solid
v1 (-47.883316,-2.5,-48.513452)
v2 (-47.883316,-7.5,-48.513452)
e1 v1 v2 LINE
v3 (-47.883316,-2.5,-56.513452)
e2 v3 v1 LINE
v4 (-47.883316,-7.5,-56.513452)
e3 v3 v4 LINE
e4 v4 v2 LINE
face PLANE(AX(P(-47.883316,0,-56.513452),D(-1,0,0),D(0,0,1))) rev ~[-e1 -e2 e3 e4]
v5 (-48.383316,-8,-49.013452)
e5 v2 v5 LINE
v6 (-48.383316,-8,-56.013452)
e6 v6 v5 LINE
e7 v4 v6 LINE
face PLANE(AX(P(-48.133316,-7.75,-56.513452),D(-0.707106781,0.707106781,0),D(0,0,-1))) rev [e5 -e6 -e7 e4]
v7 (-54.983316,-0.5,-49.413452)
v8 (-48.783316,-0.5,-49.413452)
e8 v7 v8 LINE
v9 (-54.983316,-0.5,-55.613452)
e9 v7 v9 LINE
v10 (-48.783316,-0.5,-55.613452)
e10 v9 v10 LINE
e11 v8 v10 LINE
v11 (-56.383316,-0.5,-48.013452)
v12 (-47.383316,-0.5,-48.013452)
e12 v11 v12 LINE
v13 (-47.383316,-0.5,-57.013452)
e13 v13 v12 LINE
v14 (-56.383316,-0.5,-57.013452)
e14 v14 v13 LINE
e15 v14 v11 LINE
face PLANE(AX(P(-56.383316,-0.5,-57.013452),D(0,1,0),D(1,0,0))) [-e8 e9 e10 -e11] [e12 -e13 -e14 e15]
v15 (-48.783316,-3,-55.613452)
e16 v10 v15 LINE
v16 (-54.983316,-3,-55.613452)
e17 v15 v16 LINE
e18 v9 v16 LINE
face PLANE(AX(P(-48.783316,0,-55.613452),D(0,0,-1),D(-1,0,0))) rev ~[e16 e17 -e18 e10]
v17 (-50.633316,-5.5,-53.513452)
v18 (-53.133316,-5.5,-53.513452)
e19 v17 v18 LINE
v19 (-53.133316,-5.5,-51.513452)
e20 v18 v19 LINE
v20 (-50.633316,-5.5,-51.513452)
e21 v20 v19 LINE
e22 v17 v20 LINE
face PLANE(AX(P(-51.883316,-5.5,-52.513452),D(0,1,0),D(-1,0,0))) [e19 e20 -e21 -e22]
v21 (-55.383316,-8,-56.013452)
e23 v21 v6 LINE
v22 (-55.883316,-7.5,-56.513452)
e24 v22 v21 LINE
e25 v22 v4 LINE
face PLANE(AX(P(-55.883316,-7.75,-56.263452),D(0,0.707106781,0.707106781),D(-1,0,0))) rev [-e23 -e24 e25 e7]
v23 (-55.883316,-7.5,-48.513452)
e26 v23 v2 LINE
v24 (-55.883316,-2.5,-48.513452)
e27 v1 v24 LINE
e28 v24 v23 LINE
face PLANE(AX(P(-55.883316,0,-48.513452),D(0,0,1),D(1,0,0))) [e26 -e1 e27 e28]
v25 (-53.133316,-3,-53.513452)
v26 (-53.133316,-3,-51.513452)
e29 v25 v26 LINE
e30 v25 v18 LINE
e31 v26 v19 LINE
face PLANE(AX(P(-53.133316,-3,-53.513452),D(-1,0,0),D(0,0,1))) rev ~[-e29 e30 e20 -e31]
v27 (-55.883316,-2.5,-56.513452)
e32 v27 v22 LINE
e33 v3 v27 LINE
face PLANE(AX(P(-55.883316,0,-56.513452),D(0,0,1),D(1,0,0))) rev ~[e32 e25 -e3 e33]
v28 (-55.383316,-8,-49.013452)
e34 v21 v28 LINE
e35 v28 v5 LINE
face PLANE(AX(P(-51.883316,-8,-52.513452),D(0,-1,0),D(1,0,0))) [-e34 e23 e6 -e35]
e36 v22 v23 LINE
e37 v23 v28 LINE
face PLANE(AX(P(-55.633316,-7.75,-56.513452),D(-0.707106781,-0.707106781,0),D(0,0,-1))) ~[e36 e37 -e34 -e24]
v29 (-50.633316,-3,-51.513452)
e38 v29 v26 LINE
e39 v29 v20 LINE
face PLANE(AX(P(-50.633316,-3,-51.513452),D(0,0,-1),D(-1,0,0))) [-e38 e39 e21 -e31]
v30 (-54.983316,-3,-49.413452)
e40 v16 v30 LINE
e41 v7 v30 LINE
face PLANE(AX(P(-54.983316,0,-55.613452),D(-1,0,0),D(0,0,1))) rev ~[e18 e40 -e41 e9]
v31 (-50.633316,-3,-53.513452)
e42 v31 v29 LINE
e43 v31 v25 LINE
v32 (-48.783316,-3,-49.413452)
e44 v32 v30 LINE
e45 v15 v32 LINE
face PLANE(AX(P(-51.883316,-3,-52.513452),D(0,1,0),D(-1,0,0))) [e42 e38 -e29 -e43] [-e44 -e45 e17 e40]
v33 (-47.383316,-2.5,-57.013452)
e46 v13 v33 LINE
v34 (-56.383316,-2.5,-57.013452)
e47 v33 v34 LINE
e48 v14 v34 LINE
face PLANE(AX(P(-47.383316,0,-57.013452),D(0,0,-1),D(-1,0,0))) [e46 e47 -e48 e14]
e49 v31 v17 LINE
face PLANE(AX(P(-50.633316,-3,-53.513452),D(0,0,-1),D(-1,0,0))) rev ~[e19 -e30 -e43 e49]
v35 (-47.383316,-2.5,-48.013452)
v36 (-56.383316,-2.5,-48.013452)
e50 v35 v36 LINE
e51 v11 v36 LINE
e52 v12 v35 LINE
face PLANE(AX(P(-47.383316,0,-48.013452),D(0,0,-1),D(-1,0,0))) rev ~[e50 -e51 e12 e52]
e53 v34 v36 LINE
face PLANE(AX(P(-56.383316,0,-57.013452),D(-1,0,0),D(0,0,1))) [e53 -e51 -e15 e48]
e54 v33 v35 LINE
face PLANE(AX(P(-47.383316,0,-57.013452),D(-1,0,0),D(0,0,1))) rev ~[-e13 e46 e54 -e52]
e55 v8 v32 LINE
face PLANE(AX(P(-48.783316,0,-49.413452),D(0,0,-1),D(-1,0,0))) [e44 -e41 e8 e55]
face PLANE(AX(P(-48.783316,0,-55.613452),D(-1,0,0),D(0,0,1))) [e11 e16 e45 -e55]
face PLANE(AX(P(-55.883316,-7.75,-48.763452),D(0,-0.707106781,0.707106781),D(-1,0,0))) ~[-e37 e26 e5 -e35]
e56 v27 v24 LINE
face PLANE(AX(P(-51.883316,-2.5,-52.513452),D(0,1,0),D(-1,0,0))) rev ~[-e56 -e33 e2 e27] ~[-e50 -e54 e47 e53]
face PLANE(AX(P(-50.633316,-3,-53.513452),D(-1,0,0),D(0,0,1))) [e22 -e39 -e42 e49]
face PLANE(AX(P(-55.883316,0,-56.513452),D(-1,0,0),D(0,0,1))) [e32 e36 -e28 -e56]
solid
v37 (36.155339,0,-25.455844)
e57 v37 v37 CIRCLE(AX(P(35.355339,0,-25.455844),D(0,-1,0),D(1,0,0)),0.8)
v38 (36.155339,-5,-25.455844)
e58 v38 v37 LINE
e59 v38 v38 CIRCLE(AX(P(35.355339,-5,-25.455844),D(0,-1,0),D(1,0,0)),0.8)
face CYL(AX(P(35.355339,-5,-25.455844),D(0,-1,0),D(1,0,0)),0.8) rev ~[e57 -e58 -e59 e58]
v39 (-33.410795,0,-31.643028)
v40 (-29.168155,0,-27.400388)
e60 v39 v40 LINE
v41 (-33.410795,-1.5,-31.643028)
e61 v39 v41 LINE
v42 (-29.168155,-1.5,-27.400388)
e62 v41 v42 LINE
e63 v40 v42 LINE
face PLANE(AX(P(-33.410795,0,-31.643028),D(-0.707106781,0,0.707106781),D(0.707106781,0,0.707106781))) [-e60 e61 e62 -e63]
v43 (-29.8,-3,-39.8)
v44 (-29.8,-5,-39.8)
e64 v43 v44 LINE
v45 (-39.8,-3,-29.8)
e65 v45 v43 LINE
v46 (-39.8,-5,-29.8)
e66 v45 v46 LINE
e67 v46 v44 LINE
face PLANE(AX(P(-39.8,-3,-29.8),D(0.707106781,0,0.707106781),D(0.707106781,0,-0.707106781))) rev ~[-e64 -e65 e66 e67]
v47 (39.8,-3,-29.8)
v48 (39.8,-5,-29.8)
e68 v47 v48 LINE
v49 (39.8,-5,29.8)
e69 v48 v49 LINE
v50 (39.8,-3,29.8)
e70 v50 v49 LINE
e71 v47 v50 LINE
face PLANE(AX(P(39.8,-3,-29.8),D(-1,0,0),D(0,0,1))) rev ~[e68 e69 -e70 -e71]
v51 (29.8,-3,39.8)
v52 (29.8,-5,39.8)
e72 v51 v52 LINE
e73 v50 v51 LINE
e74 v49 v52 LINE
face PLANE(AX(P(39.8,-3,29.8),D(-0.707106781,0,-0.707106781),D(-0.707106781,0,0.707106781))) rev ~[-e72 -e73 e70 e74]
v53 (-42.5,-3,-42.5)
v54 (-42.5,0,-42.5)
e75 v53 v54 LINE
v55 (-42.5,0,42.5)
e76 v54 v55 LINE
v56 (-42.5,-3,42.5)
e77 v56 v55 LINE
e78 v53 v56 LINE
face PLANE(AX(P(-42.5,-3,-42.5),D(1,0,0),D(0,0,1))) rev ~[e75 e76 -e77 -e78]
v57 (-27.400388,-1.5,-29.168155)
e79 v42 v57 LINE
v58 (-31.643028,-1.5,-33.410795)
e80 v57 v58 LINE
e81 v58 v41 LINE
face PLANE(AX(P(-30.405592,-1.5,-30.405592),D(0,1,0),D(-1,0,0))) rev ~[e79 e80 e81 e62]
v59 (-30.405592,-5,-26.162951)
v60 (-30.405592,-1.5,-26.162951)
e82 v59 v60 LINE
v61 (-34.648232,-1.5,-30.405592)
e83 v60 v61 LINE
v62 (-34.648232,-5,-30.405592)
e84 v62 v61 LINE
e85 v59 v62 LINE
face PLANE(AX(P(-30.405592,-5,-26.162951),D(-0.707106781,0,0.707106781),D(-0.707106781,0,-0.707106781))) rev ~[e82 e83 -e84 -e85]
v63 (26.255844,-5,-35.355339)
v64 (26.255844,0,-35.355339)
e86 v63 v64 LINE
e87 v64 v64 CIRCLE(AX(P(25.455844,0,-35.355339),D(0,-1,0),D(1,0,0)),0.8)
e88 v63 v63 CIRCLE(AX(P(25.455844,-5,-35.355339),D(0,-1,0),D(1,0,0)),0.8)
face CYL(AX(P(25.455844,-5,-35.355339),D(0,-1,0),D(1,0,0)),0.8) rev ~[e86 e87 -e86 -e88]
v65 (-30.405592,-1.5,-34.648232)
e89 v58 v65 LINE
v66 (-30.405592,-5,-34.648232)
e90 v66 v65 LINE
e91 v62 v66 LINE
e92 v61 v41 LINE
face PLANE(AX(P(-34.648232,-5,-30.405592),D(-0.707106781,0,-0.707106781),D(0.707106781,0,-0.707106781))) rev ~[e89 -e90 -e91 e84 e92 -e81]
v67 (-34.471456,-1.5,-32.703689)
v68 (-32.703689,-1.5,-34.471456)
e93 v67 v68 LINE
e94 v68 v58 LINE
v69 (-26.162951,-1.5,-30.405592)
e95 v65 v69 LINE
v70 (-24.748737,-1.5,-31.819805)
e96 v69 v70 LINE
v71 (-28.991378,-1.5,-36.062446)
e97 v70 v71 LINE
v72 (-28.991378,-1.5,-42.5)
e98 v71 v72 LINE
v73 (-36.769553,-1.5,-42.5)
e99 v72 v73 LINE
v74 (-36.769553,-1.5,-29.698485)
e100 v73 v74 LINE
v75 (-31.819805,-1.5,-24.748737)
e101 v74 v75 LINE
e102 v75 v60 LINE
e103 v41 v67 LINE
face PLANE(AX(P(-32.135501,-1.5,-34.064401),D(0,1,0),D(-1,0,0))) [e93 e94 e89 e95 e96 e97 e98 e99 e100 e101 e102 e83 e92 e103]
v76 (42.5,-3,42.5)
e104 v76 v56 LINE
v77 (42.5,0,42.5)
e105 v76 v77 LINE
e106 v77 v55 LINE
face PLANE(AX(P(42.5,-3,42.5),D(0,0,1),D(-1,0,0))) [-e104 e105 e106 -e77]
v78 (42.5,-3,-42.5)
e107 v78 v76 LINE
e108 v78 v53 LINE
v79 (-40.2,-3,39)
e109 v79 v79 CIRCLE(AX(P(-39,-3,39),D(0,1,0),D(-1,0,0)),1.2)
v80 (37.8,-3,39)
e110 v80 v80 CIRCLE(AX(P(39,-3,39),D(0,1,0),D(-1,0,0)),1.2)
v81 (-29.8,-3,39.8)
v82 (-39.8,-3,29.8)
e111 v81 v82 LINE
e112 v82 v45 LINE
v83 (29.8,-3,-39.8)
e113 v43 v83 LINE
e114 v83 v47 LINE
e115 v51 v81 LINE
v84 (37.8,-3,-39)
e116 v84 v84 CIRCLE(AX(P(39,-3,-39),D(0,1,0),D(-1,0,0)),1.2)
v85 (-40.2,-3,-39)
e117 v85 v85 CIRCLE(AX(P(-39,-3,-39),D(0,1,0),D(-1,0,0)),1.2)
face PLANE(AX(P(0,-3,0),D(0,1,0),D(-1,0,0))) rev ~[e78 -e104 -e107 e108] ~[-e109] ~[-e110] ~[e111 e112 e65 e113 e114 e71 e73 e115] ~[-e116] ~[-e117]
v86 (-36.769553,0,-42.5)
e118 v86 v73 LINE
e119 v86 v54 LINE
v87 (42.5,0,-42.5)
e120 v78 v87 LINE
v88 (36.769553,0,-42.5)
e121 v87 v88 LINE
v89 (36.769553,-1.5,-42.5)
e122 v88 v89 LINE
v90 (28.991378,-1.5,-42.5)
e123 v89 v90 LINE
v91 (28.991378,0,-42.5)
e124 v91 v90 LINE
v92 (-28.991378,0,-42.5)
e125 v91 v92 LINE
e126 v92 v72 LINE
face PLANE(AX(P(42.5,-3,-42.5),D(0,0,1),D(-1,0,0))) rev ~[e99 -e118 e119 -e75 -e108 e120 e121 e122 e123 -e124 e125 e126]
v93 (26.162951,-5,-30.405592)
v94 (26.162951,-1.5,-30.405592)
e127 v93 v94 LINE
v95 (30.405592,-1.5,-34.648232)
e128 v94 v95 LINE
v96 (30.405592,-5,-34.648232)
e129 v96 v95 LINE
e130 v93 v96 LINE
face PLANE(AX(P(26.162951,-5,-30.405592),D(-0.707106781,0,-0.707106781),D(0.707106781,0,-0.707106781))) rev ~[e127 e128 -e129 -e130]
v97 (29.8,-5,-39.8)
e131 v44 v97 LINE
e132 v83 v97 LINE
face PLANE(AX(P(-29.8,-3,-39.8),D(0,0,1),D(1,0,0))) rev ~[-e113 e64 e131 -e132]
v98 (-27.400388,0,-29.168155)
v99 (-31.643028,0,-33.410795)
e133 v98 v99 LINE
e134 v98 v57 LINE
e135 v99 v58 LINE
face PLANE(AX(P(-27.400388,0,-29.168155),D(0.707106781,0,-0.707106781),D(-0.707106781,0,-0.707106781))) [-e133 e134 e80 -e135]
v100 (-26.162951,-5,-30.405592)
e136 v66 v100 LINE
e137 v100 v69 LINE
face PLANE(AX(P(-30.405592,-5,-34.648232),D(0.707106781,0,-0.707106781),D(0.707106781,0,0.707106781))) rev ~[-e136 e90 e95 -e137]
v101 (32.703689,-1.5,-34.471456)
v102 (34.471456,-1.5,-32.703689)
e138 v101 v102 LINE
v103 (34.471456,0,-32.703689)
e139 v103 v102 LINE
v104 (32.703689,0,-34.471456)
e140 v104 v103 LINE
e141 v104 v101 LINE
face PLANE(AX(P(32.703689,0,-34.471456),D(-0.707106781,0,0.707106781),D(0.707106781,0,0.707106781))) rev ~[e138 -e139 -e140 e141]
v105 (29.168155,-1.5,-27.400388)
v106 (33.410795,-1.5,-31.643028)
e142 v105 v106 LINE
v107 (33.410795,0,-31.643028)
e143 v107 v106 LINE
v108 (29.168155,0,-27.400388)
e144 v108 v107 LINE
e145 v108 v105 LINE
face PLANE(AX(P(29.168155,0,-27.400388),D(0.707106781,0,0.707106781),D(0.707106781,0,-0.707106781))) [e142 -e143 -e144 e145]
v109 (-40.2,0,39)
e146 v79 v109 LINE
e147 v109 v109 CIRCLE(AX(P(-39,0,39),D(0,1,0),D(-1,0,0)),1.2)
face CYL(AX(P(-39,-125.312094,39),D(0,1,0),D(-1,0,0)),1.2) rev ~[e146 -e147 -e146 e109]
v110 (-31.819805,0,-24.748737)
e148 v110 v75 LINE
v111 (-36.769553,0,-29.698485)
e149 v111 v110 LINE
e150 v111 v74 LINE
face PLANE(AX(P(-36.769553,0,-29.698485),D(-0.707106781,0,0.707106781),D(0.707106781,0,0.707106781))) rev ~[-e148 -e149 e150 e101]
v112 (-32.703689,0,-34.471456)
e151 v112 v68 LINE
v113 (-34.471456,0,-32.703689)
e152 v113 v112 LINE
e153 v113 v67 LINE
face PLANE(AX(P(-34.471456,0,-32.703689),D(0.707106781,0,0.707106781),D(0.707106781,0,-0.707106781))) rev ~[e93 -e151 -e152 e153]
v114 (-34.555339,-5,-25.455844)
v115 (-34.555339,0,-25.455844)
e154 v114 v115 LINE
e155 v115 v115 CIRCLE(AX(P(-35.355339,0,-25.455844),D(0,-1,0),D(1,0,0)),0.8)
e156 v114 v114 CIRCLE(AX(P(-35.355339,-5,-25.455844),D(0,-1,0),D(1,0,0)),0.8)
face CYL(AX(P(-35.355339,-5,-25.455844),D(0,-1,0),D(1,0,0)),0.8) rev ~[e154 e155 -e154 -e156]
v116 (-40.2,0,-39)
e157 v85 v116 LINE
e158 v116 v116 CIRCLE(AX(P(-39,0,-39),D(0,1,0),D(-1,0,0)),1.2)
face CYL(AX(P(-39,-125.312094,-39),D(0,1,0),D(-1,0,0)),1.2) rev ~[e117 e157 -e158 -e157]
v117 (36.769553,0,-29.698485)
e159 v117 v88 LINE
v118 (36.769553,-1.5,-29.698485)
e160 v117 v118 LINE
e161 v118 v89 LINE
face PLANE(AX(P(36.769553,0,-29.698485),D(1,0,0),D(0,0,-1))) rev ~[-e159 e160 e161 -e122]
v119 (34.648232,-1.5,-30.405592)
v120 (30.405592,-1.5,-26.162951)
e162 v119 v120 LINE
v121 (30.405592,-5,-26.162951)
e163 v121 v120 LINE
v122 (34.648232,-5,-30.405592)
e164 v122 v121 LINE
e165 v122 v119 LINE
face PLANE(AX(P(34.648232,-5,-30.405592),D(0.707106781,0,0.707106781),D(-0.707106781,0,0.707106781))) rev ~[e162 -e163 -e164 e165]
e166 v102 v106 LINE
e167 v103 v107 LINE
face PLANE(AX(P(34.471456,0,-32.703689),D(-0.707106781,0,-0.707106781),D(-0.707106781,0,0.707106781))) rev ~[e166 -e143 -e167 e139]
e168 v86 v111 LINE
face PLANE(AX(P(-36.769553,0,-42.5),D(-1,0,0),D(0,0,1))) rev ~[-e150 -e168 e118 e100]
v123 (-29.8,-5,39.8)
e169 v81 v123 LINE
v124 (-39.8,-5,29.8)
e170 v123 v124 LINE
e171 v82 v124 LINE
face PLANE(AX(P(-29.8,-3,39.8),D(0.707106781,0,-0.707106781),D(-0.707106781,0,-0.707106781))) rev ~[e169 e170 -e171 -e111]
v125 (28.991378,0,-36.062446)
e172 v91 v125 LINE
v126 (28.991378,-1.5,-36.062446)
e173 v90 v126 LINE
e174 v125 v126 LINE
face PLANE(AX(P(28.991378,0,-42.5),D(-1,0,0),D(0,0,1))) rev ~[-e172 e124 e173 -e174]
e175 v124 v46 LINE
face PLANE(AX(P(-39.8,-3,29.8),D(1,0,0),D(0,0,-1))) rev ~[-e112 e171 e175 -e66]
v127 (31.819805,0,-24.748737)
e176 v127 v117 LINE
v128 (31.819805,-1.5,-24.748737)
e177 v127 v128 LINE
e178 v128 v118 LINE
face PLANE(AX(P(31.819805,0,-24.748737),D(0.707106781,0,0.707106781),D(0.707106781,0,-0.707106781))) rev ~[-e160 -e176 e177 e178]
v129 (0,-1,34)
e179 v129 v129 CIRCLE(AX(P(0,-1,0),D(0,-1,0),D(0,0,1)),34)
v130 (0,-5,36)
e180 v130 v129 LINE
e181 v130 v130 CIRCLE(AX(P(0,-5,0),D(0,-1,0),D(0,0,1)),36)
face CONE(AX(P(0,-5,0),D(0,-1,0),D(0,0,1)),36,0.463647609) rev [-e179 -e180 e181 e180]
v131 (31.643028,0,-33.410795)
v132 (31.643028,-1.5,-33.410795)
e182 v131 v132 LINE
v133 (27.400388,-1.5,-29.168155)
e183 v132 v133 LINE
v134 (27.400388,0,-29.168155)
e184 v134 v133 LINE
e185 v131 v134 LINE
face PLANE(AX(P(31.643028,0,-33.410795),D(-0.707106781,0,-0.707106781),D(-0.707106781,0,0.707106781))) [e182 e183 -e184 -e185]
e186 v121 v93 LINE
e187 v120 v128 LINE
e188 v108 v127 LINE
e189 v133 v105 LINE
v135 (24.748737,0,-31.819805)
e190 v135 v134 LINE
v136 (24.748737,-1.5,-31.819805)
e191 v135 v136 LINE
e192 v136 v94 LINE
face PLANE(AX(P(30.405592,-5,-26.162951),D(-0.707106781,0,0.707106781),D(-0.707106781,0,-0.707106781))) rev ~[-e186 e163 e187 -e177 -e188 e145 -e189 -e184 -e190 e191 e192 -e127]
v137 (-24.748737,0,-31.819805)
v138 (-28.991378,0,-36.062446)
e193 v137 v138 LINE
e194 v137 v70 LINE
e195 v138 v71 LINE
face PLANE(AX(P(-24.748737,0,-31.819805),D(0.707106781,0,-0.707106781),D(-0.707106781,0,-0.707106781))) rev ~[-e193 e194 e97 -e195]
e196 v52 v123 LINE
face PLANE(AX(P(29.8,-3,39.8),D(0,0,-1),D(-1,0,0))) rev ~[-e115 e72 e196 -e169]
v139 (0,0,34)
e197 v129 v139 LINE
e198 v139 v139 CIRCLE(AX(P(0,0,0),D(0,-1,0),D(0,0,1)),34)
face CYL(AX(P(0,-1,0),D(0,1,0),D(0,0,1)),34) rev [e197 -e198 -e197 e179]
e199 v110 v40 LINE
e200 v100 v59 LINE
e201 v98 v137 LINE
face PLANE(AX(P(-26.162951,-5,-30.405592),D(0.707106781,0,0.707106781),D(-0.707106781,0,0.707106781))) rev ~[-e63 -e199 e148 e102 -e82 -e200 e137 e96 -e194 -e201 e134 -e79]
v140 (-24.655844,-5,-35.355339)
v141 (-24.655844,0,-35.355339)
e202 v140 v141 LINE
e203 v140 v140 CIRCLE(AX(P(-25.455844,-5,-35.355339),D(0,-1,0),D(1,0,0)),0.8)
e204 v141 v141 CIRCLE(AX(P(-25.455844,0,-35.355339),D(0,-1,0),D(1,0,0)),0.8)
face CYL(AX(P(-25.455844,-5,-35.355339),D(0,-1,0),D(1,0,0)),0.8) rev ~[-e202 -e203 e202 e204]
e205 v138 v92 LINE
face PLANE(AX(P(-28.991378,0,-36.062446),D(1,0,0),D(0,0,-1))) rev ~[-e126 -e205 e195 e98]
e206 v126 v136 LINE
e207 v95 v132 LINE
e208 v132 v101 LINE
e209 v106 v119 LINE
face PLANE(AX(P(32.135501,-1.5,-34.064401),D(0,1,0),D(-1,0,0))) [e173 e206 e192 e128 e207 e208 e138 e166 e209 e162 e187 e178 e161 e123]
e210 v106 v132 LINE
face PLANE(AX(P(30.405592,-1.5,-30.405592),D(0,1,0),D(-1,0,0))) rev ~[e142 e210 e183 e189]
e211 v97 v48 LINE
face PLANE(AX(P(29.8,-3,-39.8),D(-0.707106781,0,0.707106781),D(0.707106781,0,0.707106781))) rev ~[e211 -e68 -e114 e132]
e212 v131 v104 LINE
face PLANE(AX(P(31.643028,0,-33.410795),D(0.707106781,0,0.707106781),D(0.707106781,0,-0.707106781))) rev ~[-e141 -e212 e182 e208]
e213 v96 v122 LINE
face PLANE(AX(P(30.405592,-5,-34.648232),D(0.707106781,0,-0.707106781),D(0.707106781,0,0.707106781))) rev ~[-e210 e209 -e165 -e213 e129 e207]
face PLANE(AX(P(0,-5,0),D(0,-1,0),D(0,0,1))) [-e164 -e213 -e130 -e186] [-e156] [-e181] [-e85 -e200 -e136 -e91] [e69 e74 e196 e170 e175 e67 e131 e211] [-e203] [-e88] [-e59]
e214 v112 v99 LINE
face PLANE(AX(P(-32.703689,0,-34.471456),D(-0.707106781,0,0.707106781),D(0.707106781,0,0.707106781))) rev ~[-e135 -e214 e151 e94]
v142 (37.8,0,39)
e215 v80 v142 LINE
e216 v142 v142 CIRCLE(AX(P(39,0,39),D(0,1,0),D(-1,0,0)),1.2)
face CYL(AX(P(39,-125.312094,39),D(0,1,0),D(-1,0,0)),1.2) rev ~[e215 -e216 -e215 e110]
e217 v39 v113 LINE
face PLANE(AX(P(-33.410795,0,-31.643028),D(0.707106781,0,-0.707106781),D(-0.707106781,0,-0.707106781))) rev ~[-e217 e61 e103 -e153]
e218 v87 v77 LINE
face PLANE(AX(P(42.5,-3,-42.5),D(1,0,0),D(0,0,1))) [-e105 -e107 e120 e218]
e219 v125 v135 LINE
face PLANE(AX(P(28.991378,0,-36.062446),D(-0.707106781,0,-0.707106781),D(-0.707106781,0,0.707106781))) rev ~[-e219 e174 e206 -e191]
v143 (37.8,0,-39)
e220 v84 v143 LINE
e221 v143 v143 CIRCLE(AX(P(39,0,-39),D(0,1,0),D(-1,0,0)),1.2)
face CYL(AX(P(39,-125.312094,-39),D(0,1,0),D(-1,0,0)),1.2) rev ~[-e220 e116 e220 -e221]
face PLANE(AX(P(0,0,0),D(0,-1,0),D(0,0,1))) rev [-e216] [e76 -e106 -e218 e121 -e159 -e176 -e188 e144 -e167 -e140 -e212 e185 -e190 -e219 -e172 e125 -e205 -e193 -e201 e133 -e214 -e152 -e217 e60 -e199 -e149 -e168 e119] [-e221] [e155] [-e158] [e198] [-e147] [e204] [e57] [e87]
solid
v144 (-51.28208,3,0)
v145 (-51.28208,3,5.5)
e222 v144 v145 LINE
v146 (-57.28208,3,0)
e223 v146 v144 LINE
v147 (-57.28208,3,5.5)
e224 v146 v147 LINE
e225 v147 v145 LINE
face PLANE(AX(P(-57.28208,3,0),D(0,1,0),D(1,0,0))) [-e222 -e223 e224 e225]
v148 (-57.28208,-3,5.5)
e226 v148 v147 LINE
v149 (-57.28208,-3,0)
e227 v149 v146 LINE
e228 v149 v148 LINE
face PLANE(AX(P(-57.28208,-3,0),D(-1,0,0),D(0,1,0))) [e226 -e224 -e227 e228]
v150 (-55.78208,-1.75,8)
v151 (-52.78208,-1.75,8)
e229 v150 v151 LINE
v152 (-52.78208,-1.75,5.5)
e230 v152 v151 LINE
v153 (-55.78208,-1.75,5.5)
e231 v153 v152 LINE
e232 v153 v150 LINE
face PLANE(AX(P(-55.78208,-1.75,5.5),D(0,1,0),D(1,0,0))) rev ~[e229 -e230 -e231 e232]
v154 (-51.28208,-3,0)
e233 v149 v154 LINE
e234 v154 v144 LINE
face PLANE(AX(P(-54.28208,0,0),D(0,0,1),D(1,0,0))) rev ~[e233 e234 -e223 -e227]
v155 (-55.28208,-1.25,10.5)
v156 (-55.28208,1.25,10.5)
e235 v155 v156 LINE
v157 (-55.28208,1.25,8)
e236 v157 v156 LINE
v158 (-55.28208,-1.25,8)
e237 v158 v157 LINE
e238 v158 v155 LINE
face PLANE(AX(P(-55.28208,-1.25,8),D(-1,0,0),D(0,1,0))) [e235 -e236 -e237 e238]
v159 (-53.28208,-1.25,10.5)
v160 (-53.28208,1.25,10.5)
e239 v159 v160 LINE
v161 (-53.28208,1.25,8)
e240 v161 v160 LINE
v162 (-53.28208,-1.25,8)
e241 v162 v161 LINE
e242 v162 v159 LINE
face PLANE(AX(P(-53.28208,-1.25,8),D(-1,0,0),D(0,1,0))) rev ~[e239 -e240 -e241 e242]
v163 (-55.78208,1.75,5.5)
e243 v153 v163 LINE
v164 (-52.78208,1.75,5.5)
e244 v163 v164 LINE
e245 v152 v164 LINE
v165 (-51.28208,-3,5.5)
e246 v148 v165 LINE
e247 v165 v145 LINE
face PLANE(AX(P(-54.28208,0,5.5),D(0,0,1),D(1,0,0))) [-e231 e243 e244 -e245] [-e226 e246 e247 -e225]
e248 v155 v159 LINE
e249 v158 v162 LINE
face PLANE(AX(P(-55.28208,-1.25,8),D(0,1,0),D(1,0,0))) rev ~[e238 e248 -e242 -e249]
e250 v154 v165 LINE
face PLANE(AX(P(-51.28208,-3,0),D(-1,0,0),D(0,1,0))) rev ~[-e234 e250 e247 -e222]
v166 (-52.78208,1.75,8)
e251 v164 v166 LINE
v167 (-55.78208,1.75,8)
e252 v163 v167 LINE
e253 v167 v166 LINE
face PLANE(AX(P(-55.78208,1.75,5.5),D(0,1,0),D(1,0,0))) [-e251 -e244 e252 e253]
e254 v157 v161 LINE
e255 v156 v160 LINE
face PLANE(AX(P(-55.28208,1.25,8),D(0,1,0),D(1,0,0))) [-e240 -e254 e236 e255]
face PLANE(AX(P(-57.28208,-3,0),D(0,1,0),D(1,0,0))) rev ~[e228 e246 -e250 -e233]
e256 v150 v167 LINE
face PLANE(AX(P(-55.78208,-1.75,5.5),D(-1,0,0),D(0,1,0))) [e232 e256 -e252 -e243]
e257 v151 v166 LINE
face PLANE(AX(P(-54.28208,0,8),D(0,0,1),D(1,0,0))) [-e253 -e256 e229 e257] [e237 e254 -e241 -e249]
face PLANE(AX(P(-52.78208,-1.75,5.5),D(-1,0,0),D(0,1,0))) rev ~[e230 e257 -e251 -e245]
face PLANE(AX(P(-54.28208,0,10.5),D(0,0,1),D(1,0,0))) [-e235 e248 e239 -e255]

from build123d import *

# Parameters (mm, degrees)
F2_DEPTH  = 2
F3_W      = 85
F3_H      = 85
F4_DEPTH  = 3
F6_D      = 2.4
F7_D      = 76
F10_R     = 0.8
F11_DEPTH = 5
F13_DEPTH = 1.5
F14_W     = 8
F14_H     = 8
F15_DEPTH = 8
F16_W     = 6.2
F16_H     = 6.2
F17_DEPTH = 3
F18_W     = 2.5
F18_H     = 2
F19_DEPTH = 2.5
F20_W     = 9
F20_H     = 9
F20_W_2   = 8
F20_H_2   = 8
F21_DEPTH = 2.5
F23_DEPTH = 1.5
F24_W     = 6
F24_H     = 6
F25_DEPTH = 5.5
F26_W     = 3
F26_H     = 3.5
F27_DEPTH = 2.5
F28_W     = 2
F28_H     = 2.5
F29_DEPTH = 2.5
F30_SIZE  = 0.5
F31_W     = 9
F31_H     = 0.5
F32_DEPTH = 25


with BuildPart() as f2:
    # F1 (on offset) → F2 (new body)
    with BuildSketch(Plane.XZ.offset(3)):
        Polygon((39.8, 0), (39.8, 29.8), (29.8, 39.8), (0, 39.8), (-29.8, 39.8), (-39.8, 29.8), (-39.8, 0), (-39.8, -29.8), (-29.8, -39.8), (0, -39.8), (29.8, -39.8), (39.8, -29.8), align=None)
    extrude(amount=F2_DEPTH)

    # F3 (on face) → F4 (join)
    with BuildSketch(Plane(origin=(0, -3, 0), x_dir=(-1, 0, 0), z_dir=(0, 1, 0))):
        Rectangle(F3_W, F3_H)
    extrude(amount=F4_DEPTH)

    # F6 (through all)
    with Locations(Plane.XZ.offset(5)):
        with Locations((-39, 39), (39, 39), (39, -39), (-39, -39)):
            Hole(F6_D / 2)

    # F7 (through all)
    with Locations(Plane.XZ.offset(5)):
        with Locations((0, 0)):
            Hole(F7_D / 2)

    # F8 (on Right) → F9 (revolve)
    with BuildSketch(Plane.YZ):
        Polygon((0, 38), (-5, 38), (-5, 36), (-1, 34), (0, 34), align=None)
    revolve(axis=Axis((0, -12.2109930962, 0), (0, -1, 0)))

    # F10 (on face) → F11 (cut)
    with BuildSketch(Plane.XZ.offset(5)):
        Polygon((-30.405591591, -34.6482322781), (-26.1629509039, -30.405591591), (-30.405591591, -26.1629509039), (-34.6482322781, -30.405591591), align=None)
        with Locations((-35.3553390593, -25.4558441227)):
            Circle(F10_R)
        with Locations((-25.4558441227, -35.3553390593)):
            Circle(F10_R)
        with Locations((25.4558441227, -35.3553390593)):
            Circle(F10_R)
        with Locations((35.3553390593, -25.4558441227)):
            Circle(F10_R)
        Polygon((26.1629509039, -30.405591591), (30.405591591, -34.6482322781), (34.6482322781, -30.405591591), (30.405591591, -26.1629509039), align=None)
    extrude(amount=-F11_DEPTH, mode=Mode.SUBTRACT)

    # F12 (on face) → F13 (join)
    with BuildSketch(Plane(origin=(0, 0, 0), x_dir=(-1, 0, 0), z_dir=(0, 1, 0))):
        Polygon((27.400387771, -29.1681547239), (31.6430284581, -33.4107954111), (33.4107954111, -31.6430284581), (29.1681547239, -27.400387771), align=None)
        Polygon((-27.400387771, -29.1681547239), (-29.1681547239, -27.400387771), (-33.4107954111, -31.6430284581), (-31.6430284581, -33.4107954111), align=None)
    extrude(amount=-F13_DEPTH)

    # F22 (on face) → F23 (cut)
    with BuildSketch(Plane(origin=(0, 0, 0), x_dir=(-1, 0, 0), z_dir=(0, 1, 0))):
        Polygon((31.6430284581, -33.4107954111), (30.405591591, -34.6482322781), (26.1629509039, -30.405591591), (24.7487373415, -31.8198051534), (28.9913780286, -36.0624458405), (28.9913780286, -42.5), (36.7695526217, -42.5), (36.7695526217, -29.6984848098), (31.8198051534, -24.7487373415), (30.405591591, -26.1629509039), (34.6482322781, -30.405591591), (33.4107954111, -31.6430284581), (34.4714555828, -32.7036886299), (32.7036886299, -34.4714555828), align=None)
        Polygon((-26.1629509039, -30.405591591), (-30.405591591, -34.6482322781), (-31.6430284581, -33.4107954111), (-32.7036886299, -34.4714555828), (-34.4714555828, -32.7036886299), (-33.4107954111, -31.6430284581), (-34.6482322781, -30.405591591), (-30.405591591, -26.1629509039), (-31.8198051534, -24.7487373415), (-36.7695526217, -29.6984848098), (-36.7695526217, -42.5), (-28.9913780286, -42.5), (-28.9913780286, -36.0624458405), (-24.7487373415, -31.8198051534), align=None)
    extrude(amount=-F23_DEPTH, mode=Mode.SUBTRACT)


with BuildPart() as f15:
    # F14 (on Front) → F15 (new body)
    with BuildSketch(Plane.XZ):
        with Locations((-51.8833158314, -52.5134520829)):
            Rectangle(F14_W, F14_H)
    extrude(amount=F15_DEPTH)

    # F16 (on face) → F17 (cut)
    with BuildSketch(Plane(origin=(0, 0, 0), x_dir=(-1, 0, 0), z_dir=(0, 1, 0))):
        with Locations((51.8833158314, -52.5134520829)):
            Rectangle(F16_W, F16_H)
    extrude(amount=-F17_DEPTH, mode=Mode.SUBTRACT)

    # F18 (on face) → F19 (cut)
    with BuildSketch(Plane(origin=(0, -3, 0), x_dir=(-1, 0, 0), z_dir=(0, 1, 0))):
        with Locations((51.8833158314, -52.5134520829)):
            Rectangle(F18_W, F18_H)
    extrude(amount=-F19_DEPTH, mode=Mode.SUBTRACT)

    # F20 (on face) → F21 (join)
    with BuildSketch(Plane(origin=(0, 0, 0), x_dir=(-1, 0, 0), z_dir=(0, 1, 0))):
        with Locations((51.8833158314, -52.5134520829)):
            Rectangle(F20_W, F20_H)
        with Locations((51.8833158314, -52.5134520829)):
            Rectangle(F20_W_2, F20_H_2, mode=Mode.SUBTRACT)
    extrude(amount=-F21_DEPTH)

    # F30
    f30_edges = [f15.edges().sort_by_distance(p)[0] for p in [
        (-51.883316, -8, -56.513452),
        (-47.883316, -8, -52.513452),
        (-51.883316, -8, -48.513452),
        (-55.883316, -8, -52.513452),
    ]]
    chamfer(f30_edges, length=F30_SIZE)

    # F31 (on face) → F32 (cut)
    with BuildSketch(Plane(origin=(0, 0, -57.0134520829), x_dir=(1, 0, 0), z_dir=(0, 0, -1))):
        with Locations((-51.8833158314, 0.25)):
            Rectangle(F31_W, F31_H)
    extrude(amount=-F32_DEPTH, mode=Mode.SUBTRACT)


with BuildPart() as f25:
    # F24 (on Top) → F25 (new body)
    with BuildSketch(Plane.XY):
        with Locations((-54.2820803821, 0)):
            Rectangle(F24_W, F24_H)
    extrude(amount=F25_DEPTH)

    # F26 (on face) → F27 (join)
    with BuildSketch(Plane.XY.offset(5.5)):
        with Locations((-54.2820803821, 0)):
            Rectangle(F26_W, F26_H)
    extrude(amount=F27_DEPTH)

    # F28 (on face) → F29 (join)
    with BuildSketch(Plane.XY.offset(8)):
        with Locations((-54.2820803821, 0)):
            Rectangle(F28_W, F28_H)
    extrude(amount=F29_DEPTH)


solid = Compound([f2.part, f15.part, f25.part])
